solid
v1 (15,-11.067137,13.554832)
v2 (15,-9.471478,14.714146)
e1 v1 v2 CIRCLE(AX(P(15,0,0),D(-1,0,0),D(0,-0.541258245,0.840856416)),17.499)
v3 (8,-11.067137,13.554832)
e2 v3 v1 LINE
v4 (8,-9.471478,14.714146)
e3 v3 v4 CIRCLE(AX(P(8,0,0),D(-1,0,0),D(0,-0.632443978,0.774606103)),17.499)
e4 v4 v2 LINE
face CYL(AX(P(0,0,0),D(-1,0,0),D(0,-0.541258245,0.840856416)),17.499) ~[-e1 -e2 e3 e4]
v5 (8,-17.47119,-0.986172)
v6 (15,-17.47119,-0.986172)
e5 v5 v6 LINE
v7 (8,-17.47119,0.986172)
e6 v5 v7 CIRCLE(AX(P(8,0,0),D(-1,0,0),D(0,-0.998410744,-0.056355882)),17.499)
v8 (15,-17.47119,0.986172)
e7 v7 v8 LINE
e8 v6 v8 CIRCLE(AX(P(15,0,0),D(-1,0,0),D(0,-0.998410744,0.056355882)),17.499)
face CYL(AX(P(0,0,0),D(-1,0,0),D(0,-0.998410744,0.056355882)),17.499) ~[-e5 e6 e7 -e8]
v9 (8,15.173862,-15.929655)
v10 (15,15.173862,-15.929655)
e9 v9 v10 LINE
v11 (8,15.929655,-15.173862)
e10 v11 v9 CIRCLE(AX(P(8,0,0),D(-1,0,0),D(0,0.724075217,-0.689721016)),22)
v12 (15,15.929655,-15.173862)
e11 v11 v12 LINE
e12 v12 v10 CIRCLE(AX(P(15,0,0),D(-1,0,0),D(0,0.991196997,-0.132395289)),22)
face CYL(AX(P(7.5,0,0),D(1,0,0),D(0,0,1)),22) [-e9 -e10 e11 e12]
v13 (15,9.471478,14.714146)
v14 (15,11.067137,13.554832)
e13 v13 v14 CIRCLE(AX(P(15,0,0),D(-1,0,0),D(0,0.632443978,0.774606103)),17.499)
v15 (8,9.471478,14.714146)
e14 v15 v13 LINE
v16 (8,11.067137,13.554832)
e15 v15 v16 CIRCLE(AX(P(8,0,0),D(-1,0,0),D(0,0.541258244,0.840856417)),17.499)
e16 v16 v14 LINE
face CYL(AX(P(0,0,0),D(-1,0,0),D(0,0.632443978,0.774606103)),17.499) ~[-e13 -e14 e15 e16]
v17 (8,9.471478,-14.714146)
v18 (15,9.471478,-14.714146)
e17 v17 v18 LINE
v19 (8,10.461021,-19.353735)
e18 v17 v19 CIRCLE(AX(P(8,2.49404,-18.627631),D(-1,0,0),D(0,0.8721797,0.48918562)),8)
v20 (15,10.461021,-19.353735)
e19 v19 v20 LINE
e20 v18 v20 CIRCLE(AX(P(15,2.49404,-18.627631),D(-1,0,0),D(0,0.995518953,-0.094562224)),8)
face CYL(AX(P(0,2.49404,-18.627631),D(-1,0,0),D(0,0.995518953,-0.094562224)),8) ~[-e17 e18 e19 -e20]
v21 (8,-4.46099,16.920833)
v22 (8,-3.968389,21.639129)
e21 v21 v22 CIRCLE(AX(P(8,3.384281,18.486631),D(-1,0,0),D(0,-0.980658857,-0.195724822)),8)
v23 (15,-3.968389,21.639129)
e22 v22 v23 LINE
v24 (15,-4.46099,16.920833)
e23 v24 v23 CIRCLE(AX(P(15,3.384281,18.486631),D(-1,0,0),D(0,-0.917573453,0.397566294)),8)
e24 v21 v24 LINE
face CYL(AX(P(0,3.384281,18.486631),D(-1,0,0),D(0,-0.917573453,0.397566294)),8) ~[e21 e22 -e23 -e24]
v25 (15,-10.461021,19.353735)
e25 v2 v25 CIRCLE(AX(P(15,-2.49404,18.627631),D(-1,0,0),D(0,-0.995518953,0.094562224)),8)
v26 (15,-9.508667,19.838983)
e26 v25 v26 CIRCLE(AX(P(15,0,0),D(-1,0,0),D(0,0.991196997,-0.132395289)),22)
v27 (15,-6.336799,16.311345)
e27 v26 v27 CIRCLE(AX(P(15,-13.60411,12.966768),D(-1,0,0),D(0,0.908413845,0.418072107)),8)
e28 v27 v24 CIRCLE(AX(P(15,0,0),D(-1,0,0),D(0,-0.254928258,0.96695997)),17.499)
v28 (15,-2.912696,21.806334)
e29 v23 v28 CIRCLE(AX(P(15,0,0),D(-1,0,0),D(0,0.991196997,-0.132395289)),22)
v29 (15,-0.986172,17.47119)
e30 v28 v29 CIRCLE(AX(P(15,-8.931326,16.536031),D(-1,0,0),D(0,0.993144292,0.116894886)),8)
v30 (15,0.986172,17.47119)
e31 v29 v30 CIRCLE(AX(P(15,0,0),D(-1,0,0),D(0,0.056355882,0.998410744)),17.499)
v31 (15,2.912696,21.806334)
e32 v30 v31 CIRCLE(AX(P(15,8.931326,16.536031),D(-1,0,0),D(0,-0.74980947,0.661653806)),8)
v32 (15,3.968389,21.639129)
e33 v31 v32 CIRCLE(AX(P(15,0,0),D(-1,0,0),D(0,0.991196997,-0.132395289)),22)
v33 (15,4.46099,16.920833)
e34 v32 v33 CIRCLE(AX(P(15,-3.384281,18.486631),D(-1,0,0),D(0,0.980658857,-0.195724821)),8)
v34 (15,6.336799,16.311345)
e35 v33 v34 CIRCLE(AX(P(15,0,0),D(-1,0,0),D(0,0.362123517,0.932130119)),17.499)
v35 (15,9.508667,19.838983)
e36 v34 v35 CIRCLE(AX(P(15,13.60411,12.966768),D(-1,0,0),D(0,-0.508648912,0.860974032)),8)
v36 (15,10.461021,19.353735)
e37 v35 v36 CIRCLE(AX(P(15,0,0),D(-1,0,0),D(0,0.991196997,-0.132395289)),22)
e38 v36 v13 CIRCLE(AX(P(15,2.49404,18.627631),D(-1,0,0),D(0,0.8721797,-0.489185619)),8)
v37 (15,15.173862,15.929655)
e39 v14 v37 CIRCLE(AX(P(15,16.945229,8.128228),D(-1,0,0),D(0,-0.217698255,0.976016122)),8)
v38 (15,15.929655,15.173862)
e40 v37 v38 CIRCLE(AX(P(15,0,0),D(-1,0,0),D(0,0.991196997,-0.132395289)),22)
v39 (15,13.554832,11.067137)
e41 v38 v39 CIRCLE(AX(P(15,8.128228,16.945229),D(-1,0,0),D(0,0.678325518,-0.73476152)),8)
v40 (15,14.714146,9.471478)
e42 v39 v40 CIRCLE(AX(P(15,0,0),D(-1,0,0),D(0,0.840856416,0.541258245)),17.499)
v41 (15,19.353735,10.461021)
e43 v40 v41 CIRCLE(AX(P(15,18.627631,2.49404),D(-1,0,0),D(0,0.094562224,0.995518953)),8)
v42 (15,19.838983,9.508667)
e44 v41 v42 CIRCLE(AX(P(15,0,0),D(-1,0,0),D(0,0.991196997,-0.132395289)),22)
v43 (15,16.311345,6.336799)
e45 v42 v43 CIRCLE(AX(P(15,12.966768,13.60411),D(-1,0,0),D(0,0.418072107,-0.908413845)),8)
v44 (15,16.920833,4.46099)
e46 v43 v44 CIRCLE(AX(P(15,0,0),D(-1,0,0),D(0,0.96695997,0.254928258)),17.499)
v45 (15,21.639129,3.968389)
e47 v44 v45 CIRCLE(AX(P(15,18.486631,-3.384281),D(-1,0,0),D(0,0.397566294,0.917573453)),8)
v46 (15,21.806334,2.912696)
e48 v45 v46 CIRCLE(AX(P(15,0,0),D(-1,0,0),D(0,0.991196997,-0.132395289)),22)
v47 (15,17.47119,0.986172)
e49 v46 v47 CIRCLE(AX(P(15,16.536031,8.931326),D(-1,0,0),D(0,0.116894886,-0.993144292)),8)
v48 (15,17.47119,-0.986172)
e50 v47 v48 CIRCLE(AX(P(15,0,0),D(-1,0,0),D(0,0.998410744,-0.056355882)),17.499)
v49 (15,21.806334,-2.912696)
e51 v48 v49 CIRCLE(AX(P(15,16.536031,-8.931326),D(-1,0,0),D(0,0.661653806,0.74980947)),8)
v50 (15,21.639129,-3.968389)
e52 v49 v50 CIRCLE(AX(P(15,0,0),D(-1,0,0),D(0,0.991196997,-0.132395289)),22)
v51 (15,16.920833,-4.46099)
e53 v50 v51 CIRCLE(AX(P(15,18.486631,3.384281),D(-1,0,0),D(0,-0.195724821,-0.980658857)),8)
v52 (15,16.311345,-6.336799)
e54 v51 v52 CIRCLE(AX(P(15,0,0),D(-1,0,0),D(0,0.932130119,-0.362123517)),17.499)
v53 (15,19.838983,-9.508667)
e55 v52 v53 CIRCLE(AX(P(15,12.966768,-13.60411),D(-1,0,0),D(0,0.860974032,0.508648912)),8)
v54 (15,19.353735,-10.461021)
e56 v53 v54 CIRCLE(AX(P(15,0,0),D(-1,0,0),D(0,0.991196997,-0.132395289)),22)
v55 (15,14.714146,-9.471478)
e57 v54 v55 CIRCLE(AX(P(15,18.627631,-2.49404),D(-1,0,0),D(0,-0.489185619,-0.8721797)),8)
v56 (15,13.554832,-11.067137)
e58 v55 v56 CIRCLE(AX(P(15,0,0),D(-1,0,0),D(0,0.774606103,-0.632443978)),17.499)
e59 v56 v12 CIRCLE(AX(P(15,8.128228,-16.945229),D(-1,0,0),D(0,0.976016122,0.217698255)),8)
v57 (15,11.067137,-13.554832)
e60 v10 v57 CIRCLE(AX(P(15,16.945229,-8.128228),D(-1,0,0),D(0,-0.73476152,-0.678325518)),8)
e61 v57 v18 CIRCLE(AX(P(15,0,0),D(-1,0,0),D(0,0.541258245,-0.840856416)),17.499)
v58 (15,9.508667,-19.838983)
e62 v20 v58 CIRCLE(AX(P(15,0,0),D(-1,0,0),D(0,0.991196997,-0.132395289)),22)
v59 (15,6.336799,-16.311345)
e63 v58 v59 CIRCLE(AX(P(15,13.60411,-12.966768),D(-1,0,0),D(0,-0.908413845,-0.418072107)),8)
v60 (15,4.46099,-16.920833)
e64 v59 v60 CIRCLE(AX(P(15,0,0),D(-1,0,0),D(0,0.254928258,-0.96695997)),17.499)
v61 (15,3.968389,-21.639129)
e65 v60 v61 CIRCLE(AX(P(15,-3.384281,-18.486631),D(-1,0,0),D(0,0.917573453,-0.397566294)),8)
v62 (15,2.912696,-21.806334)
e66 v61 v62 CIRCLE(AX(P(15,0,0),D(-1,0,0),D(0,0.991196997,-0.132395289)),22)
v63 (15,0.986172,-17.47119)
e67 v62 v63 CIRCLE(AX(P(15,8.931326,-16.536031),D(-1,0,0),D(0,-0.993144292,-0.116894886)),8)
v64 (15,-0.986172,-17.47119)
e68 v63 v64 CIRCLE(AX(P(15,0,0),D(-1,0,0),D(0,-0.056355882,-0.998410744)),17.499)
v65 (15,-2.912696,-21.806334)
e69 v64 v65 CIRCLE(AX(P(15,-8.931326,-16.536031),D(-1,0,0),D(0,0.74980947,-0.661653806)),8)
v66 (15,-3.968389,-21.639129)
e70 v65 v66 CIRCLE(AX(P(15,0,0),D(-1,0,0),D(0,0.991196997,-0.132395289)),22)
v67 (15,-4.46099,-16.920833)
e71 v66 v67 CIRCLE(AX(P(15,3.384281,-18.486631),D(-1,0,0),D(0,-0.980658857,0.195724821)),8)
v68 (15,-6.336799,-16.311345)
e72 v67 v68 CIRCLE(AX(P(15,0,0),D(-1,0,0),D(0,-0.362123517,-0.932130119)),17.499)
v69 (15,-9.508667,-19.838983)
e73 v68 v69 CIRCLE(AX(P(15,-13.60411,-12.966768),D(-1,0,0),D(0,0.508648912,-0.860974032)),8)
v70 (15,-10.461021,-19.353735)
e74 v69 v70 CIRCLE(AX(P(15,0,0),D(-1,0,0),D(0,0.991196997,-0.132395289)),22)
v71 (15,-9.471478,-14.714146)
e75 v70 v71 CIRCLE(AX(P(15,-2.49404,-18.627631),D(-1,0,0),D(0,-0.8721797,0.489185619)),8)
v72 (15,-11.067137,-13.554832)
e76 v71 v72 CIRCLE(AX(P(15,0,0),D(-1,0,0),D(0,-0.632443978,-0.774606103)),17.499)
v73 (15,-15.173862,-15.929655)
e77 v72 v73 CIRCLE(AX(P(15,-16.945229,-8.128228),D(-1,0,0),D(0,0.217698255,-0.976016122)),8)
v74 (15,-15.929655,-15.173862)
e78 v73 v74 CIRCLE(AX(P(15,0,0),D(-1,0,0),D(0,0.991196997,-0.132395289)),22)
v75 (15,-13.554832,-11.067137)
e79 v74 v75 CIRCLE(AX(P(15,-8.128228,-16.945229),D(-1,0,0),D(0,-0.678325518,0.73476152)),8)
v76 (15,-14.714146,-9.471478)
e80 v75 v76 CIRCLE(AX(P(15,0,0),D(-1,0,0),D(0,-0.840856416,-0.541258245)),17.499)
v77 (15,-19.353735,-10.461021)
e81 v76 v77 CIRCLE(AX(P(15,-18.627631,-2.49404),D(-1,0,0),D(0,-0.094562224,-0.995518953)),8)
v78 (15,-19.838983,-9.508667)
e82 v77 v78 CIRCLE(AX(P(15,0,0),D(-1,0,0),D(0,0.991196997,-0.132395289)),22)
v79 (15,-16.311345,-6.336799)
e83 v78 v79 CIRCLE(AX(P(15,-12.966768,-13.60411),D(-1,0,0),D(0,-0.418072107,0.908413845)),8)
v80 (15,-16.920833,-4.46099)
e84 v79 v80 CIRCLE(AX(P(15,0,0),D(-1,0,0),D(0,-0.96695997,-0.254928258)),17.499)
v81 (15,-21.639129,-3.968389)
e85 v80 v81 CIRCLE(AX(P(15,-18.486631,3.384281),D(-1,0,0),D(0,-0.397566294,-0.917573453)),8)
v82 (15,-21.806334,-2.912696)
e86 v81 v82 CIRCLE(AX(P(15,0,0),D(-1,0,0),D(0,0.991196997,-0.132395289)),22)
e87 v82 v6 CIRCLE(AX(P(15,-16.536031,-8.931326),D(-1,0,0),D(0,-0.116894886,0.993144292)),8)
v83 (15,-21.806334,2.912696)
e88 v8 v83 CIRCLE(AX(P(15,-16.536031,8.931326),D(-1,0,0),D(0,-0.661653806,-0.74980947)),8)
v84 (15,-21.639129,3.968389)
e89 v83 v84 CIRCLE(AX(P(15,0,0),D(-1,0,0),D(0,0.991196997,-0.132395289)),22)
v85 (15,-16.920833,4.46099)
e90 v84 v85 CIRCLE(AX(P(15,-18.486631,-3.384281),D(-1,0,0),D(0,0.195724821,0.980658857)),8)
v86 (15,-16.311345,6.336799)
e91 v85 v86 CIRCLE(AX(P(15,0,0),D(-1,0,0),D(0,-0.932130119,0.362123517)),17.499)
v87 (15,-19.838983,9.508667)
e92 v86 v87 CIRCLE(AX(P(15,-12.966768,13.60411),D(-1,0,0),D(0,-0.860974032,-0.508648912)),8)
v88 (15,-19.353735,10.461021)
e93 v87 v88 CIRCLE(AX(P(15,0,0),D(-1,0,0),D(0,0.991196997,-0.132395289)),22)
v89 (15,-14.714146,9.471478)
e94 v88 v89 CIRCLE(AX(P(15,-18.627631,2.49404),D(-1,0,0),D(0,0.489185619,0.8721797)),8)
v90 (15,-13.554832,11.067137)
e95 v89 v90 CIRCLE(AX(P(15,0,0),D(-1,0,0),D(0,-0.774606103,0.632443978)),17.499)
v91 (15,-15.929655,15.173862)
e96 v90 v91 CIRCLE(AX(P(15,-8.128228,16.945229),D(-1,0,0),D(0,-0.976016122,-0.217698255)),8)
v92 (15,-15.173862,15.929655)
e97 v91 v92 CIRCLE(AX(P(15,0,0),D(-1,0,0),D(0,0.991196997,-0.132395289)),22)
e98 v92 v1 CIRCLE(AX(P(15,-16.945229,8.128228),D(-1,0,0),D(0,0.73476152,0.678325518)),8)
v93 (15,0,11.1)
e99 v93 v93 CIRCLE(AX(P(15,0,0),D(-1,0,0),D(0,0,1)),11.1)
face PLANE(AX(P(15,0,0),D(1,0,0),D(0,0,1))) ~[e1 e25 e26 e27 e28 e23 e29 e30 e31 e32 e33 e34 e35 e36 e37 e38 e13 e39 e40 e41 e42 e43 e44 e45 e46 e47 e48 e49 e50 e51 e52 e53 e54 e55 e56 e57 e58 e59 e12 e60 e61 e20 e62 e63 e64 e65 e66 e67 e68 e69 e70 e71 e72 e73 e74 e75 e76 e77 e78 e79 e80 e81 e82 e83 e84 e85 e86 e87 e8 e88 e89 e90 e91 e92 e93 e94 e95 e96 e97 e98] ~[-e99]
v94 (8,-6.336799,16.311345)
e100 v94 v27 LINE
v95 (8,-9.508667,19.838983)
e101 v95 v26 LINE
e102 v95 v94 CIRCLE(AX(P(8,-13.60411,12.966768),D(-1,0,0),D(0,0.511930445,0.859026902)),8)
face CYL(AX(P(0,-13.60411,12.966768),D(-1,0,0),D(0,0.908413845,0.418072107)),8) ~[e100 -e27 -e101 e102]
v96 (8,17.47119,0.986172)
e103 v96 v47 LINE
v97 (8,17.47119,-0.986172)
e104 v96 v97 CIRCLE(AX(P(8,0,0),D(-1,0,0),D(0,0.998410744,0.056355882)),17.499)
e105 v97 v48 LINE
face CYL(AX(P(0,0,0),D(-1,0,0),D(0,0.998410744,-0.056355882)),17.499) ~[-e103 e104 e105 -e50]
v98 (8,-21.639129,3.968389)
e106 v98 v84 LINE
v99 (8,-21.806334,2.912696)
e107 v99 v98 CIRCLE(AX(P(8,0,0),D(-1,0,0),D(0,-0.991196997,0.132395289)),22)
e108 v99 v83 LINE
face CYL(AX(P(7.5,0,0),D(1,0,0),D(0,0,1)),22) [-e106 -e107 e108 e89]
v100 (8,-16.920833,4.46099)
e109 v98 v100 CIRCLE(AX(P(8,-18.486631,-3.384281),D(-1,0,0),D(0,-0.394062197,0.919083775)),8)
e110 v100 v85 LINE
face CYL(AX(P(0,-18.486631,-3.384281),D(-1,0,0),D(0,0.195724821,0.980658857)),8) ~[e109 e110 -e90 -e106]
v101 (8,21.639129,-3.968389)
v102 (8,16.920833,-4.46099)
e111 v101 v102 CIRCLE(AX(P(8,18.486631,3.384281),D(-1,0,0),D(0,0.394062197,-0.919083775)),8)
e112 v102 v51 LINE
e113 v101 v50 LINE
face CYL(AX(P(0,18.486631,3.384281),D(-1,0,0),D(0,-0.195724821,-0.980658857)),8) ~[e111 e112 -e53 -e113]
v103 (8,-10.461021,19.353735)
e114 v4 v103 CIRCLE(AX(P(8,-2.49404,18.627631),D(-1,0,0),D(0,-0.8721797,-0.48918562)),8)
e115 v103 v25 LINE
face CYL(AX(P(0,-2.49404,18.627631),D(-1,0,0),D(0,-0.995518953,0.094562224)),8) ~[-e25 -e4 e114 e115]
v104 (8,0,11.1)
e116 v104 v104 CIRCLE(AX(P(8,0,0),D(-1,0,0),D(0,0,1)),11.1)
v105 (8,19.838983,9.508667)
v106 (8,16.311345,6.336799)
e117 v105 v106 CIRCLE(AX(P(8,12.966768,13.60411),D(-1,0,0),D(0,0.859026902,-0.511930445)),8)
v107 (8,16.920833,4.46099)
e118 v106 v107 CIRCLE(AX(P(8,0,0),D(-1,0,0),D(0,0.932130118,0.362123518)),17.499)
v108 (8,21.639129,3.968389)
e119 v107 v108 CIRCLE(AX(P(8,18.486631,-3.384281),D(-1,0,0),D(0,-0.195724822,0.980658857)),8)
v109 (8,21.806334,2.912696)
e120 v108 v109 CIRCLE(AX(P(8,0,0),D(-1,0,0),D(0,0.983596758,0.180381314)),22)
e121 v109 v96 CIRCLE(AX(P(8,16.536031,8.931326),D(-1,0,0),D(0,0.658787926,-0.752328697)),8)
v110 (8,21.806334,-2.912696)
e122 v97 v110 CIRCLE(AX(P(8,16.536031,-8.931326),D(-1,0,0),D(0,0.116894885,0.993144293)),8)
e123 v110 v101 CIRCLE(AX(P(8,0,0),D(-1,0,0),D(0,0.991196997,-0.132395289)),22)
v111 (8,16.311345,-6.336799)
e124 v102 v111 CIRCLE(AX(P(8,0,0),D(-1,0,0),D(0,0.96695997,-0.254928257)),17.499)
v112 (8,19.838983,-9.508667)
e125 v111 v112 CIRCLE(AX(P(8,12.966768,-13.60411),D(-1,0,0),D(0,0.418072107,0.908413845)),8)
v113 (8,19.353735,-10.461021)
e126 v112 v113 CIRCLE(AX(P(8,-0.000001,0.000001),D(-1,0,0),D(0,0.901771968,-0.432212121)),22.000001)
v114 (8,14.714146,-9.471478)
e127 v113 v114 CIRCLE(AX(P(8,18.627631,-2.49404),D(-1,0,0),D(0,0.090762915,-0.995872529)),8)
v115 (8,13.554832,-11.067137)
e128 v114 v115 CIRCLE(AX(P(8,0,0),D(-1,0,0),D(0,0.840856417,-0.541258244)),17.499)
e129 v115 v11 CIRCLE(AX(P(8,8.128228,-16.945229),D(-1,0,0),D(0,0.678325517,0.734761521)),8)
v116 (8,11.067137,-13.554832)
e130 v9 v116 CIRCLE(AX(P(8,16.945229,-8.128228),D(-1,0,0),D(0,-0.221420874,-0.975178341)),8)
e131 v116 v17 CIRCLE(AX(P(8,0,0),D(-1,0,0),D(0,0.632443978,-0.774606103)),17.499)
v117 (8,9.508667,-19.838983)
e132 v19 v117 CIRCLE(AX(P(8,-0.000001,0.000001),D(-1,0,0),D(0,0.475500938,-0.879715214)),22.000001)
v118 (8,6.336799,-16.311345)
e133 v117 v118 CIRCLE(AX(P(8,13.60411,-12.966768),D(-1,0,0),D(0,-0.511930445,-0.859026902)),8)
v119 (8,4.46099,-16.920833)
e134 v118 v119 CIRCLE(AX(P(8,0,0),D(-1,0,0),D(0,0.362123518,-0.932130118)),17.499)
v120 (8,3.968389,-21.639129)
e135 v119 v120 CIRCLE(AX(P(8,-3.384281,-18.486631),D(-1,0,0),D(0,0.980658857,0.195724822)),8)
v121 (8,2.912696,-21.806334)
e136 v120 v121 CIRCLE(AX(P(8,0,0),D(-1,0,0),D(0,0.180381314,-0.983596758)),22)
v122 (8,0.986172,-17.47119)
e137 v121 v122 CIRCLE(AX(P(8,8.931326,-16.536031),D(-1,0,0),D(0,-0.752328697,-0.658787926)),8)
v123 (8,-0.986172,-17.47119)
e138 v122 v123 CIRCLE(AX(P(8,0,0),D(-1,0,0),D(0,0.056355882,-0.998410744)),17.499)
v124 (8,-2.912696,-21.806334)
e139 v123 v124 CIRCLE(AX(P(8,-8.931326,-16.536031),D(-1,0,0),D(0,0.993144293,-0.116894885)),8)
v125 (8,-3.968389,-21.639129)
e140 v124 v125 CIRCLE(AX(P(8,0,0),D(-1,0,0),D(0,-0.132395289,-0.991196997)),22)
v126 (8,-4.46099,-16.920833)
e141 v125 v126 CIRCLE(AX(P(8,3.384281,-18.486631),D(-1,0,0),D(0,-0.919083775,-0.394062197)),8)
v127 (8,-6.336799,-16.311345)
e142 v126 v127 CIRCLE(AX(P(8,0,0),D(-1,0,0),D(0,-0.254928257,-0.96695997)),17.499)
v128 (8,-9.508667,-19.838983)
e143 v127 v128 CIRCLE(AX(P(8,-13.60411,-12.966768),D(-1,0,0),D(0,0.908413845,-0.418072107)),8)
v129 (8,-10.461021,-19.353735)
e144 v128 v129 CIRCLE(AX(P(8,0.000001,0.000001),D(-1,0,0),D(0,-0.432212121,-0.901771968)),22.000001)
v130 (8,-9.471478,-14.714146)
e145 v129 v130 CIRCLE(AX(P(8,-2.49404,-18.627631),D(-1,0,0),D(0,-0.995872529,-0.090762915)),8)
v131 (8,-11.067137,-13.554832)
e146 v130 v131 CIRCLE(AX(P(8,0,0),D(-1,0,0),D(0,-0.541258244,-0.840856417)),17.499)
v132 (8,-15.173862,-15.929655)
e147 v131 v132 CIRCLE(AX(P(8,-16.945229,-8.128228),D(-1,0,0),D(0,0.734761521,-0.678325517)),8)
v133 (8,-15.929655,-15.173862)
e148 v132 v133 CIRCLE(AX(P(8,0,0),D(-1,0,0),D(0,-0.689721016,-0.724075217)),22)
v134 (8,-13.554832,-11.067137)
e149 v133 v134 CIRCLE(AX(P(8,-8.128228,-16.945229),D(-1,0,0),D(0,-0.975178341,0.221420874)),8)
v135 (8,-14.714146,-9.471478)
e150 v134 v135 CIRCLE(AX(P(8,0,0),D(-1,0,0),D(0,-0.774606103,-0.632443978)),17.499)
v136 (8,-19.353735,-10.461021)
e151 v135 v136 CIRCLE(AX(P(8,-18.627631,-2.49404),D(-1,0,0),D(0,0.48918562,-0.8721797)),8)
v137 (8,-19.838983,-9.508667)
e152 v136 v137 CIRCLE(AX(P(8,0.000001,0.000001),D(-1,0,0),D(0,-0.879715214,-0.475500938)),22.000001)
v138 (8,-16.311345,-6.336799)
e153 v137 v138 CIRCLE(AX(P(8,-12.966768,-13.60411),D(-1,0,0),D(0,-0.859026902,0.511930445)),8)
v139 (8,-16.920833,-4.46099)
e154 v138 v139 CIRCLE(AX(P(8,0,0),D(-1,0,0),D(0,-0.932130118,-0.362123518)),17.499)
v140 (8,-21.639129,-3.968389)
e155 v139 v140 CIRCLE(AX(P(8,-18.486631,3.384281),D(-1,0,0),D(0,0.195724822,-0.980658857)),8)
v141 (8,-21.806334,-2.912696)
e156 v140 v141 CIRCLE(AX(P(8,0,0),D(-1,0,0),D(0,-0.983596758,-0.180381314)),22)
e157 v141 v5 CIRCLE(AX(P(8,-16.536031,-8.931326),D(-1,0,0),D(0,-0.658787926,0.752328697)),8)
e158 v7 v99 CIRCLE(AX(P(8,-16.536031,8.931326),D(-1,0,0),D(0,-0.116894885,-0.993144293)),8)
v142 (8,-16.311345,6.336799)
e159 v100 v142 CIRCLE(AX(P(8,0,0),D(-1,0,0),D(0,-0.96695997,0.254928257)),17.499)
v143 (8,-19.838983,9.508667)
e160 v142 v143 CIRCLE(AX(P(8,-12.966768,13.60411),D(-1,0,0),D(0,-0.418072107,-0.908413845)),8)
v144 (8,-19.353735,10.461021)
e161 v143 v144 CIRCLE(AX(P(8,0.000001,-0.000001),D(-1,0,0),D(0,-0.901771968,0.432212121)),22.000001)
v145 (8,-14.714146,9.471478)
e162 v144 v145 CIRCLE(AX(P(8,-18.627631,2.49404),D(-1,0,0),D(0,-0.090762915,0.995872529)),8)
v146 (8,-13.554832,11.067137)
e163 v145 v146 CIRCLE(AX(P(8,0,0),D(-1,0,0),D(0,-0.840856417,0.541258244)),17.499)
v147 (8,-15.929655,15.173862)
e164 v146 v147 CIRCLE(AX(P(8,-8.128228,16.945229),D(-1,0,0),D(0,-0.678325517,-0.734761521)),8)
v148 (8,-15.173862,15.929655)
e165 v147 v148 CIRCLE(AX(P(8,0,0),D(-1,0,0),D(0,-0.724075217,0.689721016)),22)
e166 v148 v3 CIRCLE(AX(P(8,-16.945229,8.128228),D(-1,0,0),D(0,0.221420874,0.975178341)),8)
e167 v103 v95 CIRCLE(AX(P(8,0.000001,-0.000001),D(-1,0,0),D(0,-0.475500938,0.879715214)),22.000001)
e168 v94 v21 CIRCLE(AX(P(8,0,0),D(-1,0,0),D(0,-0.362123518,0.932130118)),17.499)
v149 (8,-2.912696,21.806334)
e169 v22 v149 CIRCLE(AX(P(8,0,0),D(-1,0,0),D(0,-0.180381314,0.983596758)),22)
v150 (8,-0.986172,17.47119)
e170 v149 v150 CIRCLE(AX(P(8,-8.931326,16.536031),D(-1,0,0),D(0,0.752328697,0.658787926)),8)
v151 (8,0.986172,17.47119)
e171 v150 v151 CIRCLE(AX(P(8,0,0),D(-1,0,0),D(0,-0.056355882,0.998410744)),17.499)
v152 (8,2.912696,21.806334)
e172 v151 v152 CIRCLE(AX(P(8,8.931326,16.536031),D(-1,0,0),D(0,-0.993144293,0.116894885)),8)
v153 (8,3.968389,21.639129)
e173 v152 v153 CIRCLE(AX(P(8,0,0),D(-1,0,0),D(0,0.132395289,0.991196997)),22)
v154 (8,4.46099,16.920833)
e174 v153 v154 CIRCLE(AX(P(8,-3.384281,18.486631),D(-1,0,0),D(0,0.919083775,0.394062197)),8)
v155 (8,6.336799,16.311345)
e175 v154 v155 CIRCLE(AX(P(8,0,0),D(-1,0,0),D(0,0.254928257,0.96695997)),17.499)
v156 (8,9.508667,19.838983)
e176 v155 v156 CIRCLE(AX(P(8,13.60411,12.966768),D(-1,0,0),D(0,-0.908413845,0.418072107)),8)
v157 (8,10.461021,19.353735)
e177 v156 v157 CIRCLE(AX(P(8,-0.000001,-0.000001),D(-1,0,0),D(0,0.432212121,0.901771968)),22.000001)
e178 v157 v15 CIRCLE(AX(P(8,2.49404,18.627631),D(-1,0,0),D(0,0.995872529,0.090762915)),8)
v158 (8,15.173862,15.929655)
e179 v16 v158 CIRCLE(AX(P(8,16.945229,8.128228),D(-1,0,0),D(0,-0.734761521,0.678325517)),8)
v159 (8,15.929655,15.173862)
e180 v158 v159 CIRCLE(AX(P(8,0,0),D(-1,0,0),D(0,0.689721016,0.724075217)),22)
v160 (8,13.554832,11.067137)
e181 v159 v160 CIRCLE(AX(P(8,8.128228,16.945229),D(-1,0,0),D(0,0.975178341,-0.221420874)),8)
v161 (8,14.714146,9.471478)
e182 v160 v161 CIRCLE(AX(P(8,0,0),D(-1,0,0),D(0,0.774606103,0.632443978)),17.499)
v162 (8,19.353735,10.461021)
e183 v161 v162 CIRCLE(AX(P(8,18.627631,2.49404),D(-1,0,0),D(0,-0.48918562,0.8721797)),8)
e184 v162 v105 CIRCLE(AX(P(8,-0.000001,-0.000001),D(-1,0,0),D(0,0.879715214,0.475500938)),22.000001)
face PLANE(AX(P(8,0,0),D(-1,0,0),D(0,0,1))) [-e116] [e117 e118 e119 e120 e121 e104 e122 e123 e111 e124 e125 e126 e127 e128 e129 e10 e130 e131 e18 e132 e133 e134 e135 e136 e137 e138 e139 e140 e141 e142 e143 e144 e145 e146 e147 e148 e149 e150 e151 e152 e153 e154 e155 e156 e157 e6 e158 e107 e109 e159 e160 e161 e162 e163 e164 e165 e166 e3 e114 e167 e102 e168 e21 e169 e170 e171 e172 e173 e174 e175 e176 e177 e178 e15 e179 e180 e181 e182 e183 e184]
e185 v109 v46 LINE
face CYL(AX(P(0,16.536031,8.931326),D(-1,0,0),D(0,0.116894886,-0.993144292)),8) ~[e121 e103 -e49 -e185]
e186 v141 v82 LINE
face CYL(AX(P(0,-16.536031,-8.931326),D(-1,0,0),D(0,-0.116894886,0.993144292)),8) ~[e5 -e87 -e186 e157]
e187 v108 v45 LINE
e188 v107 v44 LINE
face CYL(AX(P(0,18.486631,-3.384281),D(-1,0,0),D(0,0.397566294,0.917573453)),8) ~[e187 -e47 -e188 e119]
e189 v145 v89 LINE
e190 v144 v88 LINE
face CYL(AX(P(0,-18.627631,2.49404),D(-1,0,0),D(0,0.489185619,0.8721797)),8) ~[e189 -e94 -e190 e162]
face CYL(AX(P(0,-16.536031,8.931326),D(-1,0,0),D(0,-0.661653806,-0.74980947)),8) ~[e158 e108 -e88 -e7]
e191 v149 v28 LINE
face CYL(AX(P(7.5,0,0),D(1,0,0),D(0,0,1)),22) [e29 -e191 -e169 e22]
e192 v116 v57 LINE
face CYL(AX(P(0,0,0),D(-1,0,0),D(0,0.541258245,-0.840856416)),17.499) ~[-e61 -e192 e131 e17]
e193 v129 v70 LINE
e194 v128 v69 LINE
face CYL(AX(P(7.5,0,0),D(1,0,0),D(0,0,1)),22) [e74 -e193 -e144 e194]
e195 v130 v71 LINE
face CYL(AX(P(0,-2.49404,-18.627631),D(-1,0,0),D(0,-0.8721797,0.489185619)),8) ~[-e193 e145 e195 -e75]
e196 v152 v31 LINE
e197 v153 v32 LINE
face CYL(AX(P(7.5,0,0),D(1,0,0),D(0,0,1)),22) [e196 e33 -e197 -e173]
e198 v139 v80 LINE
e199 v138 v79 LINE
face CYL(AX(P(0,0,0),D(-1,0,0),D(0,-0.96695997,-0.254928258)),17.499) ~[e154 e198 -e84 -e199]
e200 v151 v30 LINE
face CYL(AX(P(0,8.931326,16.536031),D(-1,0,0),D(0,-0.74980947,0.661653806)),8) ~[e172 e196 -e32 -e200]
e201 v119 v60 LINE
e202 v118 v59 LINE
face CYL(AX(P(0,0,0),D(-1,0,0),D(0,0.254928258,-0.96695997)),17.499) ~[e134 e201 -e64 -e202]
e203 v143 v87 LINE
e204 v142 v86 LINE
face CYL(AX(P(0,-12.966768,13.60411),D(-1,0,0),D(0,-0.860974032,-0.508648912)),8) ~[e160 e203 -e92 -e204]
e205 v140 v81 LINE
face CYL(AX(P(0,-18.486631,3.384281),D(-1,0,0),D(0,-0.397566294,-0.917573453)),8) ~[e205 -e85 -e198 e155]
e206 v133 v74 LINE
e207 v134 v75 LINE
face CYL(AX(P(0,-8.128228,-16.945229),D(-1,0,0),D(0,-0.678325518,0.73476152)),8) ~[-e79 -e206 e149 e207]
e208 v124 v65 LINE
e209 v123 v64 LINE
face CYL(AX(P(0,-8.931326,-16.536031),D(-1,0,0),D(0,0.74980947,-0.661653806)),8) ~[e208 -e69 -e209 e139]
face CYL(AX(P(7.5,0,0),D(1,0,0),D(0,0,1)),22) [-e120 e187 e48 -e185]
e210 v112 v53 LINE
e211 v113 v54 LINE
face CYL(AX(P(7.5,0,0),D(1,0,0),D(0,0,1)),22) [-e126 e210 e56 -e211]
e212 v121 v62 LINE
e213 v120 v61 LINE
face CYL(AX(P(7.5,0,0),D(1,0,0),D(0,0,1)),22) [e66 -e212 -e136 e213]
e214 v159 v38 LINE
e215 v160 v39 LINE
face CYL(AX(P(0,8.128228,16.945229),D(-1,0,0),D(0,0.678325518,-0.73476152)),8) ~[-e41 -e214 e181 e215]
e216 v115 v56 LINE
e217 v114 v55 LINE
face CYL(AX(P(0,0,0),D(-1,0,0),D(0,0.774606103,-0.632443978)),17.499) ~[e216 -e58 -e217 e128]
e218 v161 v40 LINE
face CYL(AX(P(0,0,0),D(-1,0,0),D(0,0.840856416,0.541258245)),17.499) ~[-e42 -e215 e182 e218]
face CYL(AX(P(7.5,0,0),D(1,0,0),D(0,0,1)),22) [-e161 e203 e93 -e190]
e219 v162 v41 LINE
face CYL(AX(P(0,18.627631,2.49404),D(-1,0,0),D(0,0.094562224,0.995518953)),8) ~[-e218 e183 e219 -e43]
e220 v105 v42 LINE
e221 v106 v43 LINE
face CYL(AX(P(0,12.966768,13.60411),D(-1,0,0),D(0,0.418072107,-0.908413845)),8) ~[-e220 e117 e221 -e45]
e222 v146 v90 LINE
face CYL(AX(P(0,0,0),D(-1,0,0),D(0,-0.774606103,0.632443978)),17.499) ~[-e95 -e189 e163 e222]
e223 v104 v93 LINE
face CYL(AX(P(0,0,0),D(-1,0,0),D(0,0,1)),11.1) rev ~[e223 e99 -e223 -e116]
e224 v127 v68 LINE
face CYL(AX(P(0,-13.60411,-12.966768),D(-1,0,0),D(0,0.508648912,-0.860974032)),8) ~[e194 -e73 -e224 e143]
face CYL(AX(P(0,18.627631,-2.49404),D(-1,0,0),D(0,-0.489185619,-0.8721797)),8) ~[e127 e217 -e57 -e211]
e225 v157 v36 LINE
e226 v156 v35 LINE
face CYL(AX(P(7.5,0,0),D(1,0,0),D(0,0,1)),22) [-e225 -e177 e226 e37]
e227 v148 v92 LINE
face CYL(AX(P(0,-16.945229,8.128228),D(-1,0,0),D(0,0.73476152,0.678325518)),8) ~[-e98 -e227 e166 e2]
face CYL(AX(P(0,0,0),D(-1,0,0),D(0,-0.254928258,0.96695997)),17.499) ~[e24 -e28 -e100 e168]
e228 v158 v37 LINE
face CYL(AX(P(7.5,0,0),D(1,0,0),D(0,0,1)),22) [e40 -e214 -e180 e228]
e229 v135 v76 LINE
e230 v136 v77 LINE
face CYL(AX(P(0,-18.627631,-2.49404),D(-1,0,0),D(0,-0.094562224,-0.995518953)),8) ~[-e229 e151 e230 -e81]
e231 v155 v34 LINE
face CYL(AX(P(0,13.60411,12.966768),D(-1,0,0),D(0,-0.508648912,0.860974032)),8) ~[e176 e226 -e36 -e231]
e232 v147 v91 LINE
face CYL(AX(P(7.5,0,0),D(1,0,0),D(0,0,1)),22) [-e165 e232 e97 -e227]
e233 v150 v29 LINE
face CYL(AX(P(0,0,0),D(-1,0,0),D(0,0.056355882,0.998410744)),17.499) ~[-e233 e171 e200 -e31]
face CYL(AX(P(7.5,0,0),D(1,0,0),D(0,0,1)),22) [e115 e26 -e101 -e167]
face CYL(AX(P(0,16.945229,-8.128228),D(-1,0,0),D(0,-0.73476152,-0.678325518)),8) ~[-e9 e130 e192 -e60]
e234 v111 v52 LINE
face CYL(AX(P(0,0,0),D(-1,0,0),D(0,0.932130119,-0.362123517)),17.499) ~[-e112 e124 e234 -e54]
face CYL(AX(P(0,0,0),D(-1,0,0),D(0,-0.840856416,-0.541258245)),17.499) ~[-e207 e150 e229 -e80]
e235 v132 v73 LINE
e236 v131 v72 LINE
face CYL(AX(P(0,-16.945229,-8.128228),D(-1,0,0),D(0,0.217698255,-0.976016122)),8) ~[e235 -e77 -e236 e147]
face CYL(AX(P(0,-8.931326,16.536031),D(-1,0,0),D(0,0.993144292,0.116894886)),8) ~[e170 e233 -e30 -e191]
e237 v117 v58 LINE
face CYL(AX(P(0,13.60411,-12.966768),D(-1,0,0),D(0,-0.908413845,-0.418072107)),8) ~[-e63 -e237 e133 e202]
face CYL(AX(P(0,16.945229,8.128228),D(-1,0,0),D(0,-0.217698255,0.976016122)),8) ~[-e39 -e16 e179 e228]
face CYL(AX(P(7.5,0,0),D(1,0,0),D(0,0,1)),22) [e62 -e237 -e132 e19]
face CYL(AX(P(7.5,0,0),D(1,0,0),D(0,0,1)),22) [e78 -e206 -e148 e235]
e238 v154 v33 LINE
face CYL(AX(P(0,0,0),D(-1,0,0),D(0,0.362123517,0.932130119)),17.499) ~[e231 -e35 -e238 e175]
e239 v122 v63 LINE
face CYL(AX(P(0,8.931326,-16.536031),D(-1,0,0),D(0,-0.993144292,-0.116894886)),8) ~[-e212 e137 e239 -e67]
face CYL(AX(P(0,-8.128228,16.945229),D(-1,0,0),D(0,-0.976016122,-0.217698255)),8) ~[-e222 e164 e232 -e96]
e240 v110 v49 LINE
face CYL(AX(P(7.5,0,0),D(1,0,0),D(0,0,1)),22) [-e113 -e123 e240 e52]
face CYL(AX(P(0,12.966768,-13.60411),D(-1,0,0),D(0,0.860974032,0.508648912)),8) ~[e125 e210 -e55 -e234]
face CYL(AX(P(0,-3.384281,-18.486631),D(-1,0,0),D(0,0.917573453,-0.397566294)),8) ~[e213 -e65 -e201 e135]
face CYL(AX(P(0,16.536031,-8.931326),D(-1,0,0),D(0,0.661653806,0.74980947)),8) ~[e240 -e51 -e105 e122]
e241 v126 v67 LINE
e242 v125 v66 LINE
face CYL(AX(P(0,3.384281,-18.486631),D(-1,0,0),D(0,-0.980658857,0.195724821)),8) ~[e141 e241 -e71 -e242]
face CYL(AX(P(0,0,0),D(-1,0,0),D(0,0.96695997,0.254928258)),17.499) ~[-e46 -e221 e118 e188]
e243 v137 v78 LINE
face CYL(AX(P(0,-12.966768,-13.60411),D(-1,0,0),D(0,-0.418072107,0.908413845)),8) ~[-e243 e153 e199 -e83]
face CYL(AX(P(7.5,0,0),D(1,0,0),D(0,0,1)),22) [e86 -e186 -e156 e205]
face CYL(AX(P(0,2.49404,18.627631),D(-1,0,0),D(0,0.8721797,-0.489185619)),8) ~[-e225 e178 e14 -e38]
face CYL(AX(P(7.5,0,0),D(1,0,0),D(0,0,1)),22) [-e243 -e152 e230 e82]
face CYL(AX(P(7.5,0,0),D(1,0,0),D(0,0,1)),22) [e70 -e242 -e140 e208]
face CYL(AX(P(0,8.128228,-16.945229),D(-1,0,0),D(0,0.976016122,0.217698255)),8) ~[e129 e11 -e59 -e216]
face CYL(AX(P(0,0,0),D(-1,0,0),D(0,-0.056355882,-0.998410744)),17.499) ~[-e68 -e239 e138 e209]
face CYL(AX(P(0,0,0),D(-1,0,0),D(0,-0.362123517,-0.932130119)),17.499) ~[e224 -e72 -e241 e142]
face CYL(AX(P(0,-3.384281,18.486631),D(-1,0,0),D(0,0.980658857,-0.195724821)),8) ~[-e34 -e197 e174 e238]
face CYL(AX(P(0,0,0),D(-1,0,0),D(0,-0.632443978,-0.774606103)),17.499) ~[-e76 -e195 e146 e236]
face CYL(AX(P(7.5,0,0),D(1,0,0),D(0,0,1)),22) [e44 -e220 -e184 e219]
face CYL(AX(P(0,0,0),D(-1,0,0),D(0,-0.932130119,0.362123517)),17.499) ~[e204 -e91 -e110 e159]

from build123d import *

# Parameters (mm, degrees)
BASPROSKE_W        = 15
BASPROSKE_H        = 22
TOOTHCUT_DEPTH     = 35.539832078
TEETHCUTS_COUNT    = 20
TEETHCUTS_ANGLE    = 342
BORSKE_R           = 0.5
BORE_DEPTH         = 50.0000508
SKETCH1_R          = 11.1
CUT_EXTRUDE1_DEPTH = 16
CUT_EXTRUDE2_DEPTH = 8


with BuildPart() as part:
    # BasProSke → Base-Revolve (revolve)
    with BuildSketch(Plane(origin=(0, 0, 0), x_dir=(1, 0, 0), z_dir=(0, 1, 0)), mode=Mode.PRIVATE) as base_revolve_sk:
        with Locations((7.5, 11)):
            Rectangle(BASPROSKE_W, BASPROSKE_H)
    revolve(base_revolve_sk.sketch.rotate(Axis((-10, 0, 0), (1, 0, 0)), 180), axis=Axis((-10, 0, 0), (1, 0, 0)))

    # TooCutSke → ToothCut (cut, through all)
    with BuildSketch(Plane(origin=(0, 0, 0), x_dir=(0, 0, -1), z_dir=(1, 0, 0))):
        with BuildLine():
            ThreePointArc((0.986171591, 17.471189616), (0, 17.499), (-0.986171591, 17.471189616))
            ThreePointArc((-0.986171591, 17.471189616), (-1.626916196, 19.798789858), (-2.932850173, 21.829260982))
            ThreePointArc((-2.932850173, 21.829260982), (0, 22.0254), (2.932850173, 21.829260982))
            ThreePointArc((2.932850173, 21.829260982), (1.626916196, 19.798789858), (0.986171591, 17.471189616))
        make_face()
    toothcut = extrude(amount=TOOTHCUT_DEPTH, mode=Mode.SUBTRACT)

    # TeethCuts: ToothCut ×20 about axis
    teethcuts_axis = Axis((-10, 0, 0), (1, 0, 0))
    for i in range(1, TEETHCUTS_COUNT):
        add(toothcut.rotate(teethcuts_axis, i * TEETHCUTS_ANGLE / (TEETHCUTS_COUNT - 1)), mode=Mode.SUBTRACT)

    # BorSke → Bore (cut, symmetric)
    with BuildSketch(Plane(origin=(0, 0, 0), x_dir=(0, 0, -1), z_dir=(1, 0, 0))):
        with Locations(Location((0, 0, 0), (0, 0, 180))):
            Circle(BORSKE_R)
    extrude(amount=BORE_DEPTH, both=True, mode=Mode.SUBTRACT)

    # Sketch1 → Cut-Extrude1 (cut)
    with BuildSketch(Plane.ZY):
        Circle(SKETCH1_R)
    extrude(amount=-CUT_EXTRUDE1_DEPTH, mode=Mode.SUBTRACT)

    # Sketch2 → Cut-Extrude2 (cut)
    with BuildSketch(Plane.ZY):
        with BuildLine():
            ThreePointArc((17.471189616, 0.986171591), (19.784848102, 1.620704589), (21.806333941, 2.912696354))
            ThreePointArc((21.806333941, 2.912696354), (21.729143493, 3.441558231), (21.639128664, 3.968388926))
            ThreePointArc((21.639128664, 3.968388926), (19.317333972, 4.572472634), (16.920832513, 4.460989585))
            ThreePointArc((16.920832513, 4.460989585), (16.642537979, 5.407488385), (16.31134495, 6.336799421))
            ThreePointArc((16.31134495, 6.336799421), (18.31568345, 7.655235955), (19.838983319, 9.50866662))
            ThreePointArc((19.838983319, 9.50866662), (19.602143532, 9.987790994), (19.353734704, 10.461020648))
            ThreePointArc((19.353734704, 10.461020648), (16.958904602, 10.318064378), (14.714146429, 9.471478019))
            ThreePointArc((14.714146429, 9.471478019), (14.156988385, 10.28565413), (13.554832194, 11.067137173))
            ThreePointArc((13.554832194, 11.067137173), (15.05365209, 12.940419489), (15.929654782, 15.173862347))
            ThreePointArc((15.929654782, 15.173862347), (15.556349186, 15.556349186), (15.173862347, 15.929654782))
            ThreePointArc((15.173862347, 15.929654782), (12.940419489, 15.05365209), (11.067137173, 13.554832194))
            ThreePointArc((11.067137173, 13.554832194), (10.28565413, 14.156988385), (9.471478019, 14.714146429))
            ThreePointArc((9.471478019, 14.714146429), (10.318064378, 16.958904602), (10.461020648, 19.353734704))
            ThreePointArc((10.461020648, 19.353734704), (9.987790994, 19.602143532), (9.50866662, 19.838983319))
            ThreePointArc((9.50866662, 19.838983319), (7.655235955, 18.31568345), (6.336799421, 16.31134495))
            ThreePointArc((6.336799421, 16.31134495), (5.407488385, 16.642537979), (4.460989585, 16.920832513))
            ThreePointArc((4.460989585, 16.920832513), (4.572472634, 19.317333972), (3.968388926, 21.639128664))
            ThreePointArc((3.968388926, 21.639128664), (3.441558231, 21.729143493), (2.912696354, 21.806333941))
            ThreePointArc((2.912696354, 21.806333941), (1.620704589, 19.784848102), (0.986171591, 17.471189616))
            ThreePointArc((0.986171591, 17.471189616), (0, 17.499), (-0.986171591, 17.471189616))
            ThreePointArc((-0.986171591, 17.471189616), (-1.620704589, 19.784848102), (-2.912696354, 21.806333941))
            ThreePointArc((-2.912696354, 21.806333941), (-3.441558231, 21.729143493), (-3.968388926, 21.639128664))
            ThreePointArc((-3.968388926, 21.639128664), (-4.572472634, 19.317333972), (-4.460989585, 16.920832513))
            ThreePointArc((-4.460989585, 16.920832513), (-5.407488385, 16.642537979), (-6.336799421, 16.31134495))
            ThreePointArc((-6.336799421, 16.31134495), (-7.655235955, 18.31568345), (-9.50866662, 19.838983319))
            ThreePointArc((-9.50866662, 19.838983319), (-9.987790994, 19.602143532), (-10.461020648, 19.353734704))
            ThreePointArc((-10.461020648, 19.353734704), (-10.318064378, 16.958904602), (-9.471478019, 14.714146429))
            ThreePointArc((-9.471478019, 14.714146429), (-10.28565413, 14.156988385), (-11.067137173, 13.554832194))
            ThreePointArc((-11.067137173, 13.554832194), (-12.940419489, 15.05365209), (-15.173862347, 15.929654782))
            ThreePointArc((-15.173862347, 15.929654782), (-15.556349186, 15.556349186), (-15.929654782, 15.173862347))
            ThreePointArc((-15.929654782, 15.173862347), (-15.05365209, 12.940419489), (-13.554832194, 11.067137173))
            ThreePointArc((-13.554832194, 11.067137173), (-14.156988385, 10.28565413), (-14.714146429, 9.471478019))
            ThreePointArc((-14.714146429, 9.471478019), (-16.958904602, 10.318064378), (-19.353734704, 10.461020648))
            ThreePointArc((-19.353734704, 10.461020648), (-19.602143532, 9.987790994), (-19.838983319, 9.50866662))
            ThreePointArc((-19.838983319, 9.50866662), (-18.31568345, 7.655235955), (-16.31134495, 6.336799421))
            ThreePointArc((-16.31134495, 6.336799421), (-16.642537979, 5.407488385), (-16.920832513, 4.460989585))
            ThreePointArc((-16.920832513, 4.460989585), (-19.317333972, 4.572472634), (-21.639128664, 3.968388926))
            ThreePointArc((-21.639128664, 3.968388926), (-21.729143493, 3.441558231), (-21.806333941, 2.912696354))
            ThreePointArc((-21.806333941, 2.912696354), (-19.784848102, 1.620704589), (-17.471189616, 0.986171591))
            ThreePointArc((-17.471189616, 0.986171591), (-17.499, 0), (-17.471189616, -0.986171591))
            ThreePointArc((-17.471189616, -0.986171591), (-19.784848102, -1.620704589), (-21.806333941, -2.912696354))
            ThreePointArc((-21.806333941, -2.912696354), (-21.729143493, -3.441558231), (-21.639128664, -3.968388926))
            ThreePointArc((-21.639128664, -3.968388926), (-19.317333972, -4.572472634), (-16.920832513, -4.460989585))
            ThreePointArc((-16.920832513, -4.460989585), (-16.642537979, -5.407488385), (-16.31134495, -6.336799421))
            ThreePointArc((-16.31134495, -6.336799421), (-18.31568345, -7.655235955), (-19.838983319, -9.50866662))
            ThreePointArc((-19.838983319, -9.50866662), (-19.602143532, -9.987790994), (-19.353734704, -10.461020648))
            ThreePointArc((-19.353734704, -10.461020648), (-16.958904602, -10.318064378), (-14.714146429, -9.471478019))
            ThreePointArc((-14.714146429, -9.471478019), (-14.156988385, -10.28565413), (-13.554832194, -11.067137173))
            ThreePointArc((-13.554832194, -11.067137173), (-15.05365209, -12.940419489), (-15.929654782, -15.173862347))
            ThreePointArc((-15.929654782, -15.173862347), (-15.556349186, -15.556349186), (-15.173862347, -15.929654782))
            ThreePointArc((-15.173862347, -15.929654782), (-12.940419489, -15.05365209), (-11.067137173, -13.554832194))
            ThreePointArc((-11.067137173, -13.554832194), (-10.28565413, -14.156988385), (-9.471478019, -14.714146429))
            ThreePointArc((-9.471478019, -14.714146429), (-10.318064378, -16.958904602), (-10.461020648, -19.353734704))
            ThreePointArc((-10.461020648, -19.353734704), (-9.987790994, -19.602143532), (-9.50866662, -19.838983319))
            ThreePointArc((-9.50866662, -19.838983319), (-7.655235955, -18.31568345), (-6.336799421, -16.31134495))
            ThreePointArc((-6.336799421, -16.31134495), (-5.407488385, -16.642537979), (-4.460989585, -16.920832513))
            ThreePointArc((-4.460989585, -16.920832513), (-4.572472634, -19.317333972), (-3.968388926, -21.639128664))
            ThreePointArc((-3.968388926, -21.639128664), (-3.441558231, -21.729143493), (-2.912696354, -21.806333941))
            ThreePointArc((-2.912696354, -21.806333941), (-1.620704589, -19.784848102), (-0.986171591, -17.471189616))
            ThreePointArc((-0.986171591, -17.471189616), (0, -17.499), (0.986171591, -17.471189616))
            ThreePointArc((0.986171591, -17.471189616), (1.620704589, -19.784848102), (2.912696354, -21.806333941))
            ThreePointArc((2.912696354, -21.806333941), (3.441558231, -21.729143493), (3.968388926, -21.639128664))
            ThreePointArc((3.968388926, -21.639128664), (4.572472634, -19.317333972), (4.460989585, -16.920832513))
            ThreePointArc((4.460989585, -16.920832513), (5.407488385, -16.642537979), (6.336799421, -16.31134495))
            ThreePointArc((6.336799421, -16.31134495), (7.655235955, -18.31568345), (9.50866662, -19.838983319))
            ThreePointArc((9.50866662, -19.838983319), (9.987790994, -19.602143532), (10.461020648, -19.353734704))
            ThreePointArc((10.461020648, -19.353734704), (10.318064378, -16.958904602), (9.471478019, -14.714146429))
            ThreePointArc((9.471478019, -14.714146429), (10.28565413, -14.156988385), (11.067137173, -13.554832194))
            ThreePointArc((11.067137173, -13.554832194), (12.940419489, -15.05365209), (15.173862347, -15.929654782))
            ThreePointArc((15.173862347, -15.929654782), (15.556349186, -15.556349186), (15.929654782, -15.173862347))
            ThreePointArc((15.929654782, -15.173862347), (15.05365209, -12.940419489), (13.554832194, -11.067137173))
            ThreePointArc((13.554832194, -11.067137173), (14.156988385, -10.28565413), (14.714146429, -9.471478019))
            ThreePointArc((14.714146429, -9.471478019), (16.958904602, -10.318064378), (19.353734704, -10.461020648))
            ThreePointArc((19.353734704, -10.461020648), (19.602143532, -9.987790994), (19.838983319, -9.50866662))
            ThreePointArc((19.838983319, -9.50866662), (18.31568345, -7.655235955), (16.31134495, -6.336799421))
            ThreePointArc((16.31134495, -6.336799421), (16.642537979, -5.407488385), (16.920832513, -4.460989585))
            ThreePointArc((16.920832513, -4.460989585), (19.317333972, -4.572472634), (21.639128664, -3.968388926))
            ThreePointArc((21.639128664, -3.968388926), (21.729143493, -3.441558231), (21.806333941, -2.912696354))
            ThreePointArc((21.806333941, -2.912696354), (19.784848102, -1.620704589), (17.471189616, -0.986171591))
            ThreePointArc((17.471189616, -0.986171591), (17.499, 0), (17.471189616, 0.986171591))
        make_face()
    extrude(amount=-CUT_EXTRUDE2_DEPTH, mode=Mode.SUBTRACT)


solid = part.part
